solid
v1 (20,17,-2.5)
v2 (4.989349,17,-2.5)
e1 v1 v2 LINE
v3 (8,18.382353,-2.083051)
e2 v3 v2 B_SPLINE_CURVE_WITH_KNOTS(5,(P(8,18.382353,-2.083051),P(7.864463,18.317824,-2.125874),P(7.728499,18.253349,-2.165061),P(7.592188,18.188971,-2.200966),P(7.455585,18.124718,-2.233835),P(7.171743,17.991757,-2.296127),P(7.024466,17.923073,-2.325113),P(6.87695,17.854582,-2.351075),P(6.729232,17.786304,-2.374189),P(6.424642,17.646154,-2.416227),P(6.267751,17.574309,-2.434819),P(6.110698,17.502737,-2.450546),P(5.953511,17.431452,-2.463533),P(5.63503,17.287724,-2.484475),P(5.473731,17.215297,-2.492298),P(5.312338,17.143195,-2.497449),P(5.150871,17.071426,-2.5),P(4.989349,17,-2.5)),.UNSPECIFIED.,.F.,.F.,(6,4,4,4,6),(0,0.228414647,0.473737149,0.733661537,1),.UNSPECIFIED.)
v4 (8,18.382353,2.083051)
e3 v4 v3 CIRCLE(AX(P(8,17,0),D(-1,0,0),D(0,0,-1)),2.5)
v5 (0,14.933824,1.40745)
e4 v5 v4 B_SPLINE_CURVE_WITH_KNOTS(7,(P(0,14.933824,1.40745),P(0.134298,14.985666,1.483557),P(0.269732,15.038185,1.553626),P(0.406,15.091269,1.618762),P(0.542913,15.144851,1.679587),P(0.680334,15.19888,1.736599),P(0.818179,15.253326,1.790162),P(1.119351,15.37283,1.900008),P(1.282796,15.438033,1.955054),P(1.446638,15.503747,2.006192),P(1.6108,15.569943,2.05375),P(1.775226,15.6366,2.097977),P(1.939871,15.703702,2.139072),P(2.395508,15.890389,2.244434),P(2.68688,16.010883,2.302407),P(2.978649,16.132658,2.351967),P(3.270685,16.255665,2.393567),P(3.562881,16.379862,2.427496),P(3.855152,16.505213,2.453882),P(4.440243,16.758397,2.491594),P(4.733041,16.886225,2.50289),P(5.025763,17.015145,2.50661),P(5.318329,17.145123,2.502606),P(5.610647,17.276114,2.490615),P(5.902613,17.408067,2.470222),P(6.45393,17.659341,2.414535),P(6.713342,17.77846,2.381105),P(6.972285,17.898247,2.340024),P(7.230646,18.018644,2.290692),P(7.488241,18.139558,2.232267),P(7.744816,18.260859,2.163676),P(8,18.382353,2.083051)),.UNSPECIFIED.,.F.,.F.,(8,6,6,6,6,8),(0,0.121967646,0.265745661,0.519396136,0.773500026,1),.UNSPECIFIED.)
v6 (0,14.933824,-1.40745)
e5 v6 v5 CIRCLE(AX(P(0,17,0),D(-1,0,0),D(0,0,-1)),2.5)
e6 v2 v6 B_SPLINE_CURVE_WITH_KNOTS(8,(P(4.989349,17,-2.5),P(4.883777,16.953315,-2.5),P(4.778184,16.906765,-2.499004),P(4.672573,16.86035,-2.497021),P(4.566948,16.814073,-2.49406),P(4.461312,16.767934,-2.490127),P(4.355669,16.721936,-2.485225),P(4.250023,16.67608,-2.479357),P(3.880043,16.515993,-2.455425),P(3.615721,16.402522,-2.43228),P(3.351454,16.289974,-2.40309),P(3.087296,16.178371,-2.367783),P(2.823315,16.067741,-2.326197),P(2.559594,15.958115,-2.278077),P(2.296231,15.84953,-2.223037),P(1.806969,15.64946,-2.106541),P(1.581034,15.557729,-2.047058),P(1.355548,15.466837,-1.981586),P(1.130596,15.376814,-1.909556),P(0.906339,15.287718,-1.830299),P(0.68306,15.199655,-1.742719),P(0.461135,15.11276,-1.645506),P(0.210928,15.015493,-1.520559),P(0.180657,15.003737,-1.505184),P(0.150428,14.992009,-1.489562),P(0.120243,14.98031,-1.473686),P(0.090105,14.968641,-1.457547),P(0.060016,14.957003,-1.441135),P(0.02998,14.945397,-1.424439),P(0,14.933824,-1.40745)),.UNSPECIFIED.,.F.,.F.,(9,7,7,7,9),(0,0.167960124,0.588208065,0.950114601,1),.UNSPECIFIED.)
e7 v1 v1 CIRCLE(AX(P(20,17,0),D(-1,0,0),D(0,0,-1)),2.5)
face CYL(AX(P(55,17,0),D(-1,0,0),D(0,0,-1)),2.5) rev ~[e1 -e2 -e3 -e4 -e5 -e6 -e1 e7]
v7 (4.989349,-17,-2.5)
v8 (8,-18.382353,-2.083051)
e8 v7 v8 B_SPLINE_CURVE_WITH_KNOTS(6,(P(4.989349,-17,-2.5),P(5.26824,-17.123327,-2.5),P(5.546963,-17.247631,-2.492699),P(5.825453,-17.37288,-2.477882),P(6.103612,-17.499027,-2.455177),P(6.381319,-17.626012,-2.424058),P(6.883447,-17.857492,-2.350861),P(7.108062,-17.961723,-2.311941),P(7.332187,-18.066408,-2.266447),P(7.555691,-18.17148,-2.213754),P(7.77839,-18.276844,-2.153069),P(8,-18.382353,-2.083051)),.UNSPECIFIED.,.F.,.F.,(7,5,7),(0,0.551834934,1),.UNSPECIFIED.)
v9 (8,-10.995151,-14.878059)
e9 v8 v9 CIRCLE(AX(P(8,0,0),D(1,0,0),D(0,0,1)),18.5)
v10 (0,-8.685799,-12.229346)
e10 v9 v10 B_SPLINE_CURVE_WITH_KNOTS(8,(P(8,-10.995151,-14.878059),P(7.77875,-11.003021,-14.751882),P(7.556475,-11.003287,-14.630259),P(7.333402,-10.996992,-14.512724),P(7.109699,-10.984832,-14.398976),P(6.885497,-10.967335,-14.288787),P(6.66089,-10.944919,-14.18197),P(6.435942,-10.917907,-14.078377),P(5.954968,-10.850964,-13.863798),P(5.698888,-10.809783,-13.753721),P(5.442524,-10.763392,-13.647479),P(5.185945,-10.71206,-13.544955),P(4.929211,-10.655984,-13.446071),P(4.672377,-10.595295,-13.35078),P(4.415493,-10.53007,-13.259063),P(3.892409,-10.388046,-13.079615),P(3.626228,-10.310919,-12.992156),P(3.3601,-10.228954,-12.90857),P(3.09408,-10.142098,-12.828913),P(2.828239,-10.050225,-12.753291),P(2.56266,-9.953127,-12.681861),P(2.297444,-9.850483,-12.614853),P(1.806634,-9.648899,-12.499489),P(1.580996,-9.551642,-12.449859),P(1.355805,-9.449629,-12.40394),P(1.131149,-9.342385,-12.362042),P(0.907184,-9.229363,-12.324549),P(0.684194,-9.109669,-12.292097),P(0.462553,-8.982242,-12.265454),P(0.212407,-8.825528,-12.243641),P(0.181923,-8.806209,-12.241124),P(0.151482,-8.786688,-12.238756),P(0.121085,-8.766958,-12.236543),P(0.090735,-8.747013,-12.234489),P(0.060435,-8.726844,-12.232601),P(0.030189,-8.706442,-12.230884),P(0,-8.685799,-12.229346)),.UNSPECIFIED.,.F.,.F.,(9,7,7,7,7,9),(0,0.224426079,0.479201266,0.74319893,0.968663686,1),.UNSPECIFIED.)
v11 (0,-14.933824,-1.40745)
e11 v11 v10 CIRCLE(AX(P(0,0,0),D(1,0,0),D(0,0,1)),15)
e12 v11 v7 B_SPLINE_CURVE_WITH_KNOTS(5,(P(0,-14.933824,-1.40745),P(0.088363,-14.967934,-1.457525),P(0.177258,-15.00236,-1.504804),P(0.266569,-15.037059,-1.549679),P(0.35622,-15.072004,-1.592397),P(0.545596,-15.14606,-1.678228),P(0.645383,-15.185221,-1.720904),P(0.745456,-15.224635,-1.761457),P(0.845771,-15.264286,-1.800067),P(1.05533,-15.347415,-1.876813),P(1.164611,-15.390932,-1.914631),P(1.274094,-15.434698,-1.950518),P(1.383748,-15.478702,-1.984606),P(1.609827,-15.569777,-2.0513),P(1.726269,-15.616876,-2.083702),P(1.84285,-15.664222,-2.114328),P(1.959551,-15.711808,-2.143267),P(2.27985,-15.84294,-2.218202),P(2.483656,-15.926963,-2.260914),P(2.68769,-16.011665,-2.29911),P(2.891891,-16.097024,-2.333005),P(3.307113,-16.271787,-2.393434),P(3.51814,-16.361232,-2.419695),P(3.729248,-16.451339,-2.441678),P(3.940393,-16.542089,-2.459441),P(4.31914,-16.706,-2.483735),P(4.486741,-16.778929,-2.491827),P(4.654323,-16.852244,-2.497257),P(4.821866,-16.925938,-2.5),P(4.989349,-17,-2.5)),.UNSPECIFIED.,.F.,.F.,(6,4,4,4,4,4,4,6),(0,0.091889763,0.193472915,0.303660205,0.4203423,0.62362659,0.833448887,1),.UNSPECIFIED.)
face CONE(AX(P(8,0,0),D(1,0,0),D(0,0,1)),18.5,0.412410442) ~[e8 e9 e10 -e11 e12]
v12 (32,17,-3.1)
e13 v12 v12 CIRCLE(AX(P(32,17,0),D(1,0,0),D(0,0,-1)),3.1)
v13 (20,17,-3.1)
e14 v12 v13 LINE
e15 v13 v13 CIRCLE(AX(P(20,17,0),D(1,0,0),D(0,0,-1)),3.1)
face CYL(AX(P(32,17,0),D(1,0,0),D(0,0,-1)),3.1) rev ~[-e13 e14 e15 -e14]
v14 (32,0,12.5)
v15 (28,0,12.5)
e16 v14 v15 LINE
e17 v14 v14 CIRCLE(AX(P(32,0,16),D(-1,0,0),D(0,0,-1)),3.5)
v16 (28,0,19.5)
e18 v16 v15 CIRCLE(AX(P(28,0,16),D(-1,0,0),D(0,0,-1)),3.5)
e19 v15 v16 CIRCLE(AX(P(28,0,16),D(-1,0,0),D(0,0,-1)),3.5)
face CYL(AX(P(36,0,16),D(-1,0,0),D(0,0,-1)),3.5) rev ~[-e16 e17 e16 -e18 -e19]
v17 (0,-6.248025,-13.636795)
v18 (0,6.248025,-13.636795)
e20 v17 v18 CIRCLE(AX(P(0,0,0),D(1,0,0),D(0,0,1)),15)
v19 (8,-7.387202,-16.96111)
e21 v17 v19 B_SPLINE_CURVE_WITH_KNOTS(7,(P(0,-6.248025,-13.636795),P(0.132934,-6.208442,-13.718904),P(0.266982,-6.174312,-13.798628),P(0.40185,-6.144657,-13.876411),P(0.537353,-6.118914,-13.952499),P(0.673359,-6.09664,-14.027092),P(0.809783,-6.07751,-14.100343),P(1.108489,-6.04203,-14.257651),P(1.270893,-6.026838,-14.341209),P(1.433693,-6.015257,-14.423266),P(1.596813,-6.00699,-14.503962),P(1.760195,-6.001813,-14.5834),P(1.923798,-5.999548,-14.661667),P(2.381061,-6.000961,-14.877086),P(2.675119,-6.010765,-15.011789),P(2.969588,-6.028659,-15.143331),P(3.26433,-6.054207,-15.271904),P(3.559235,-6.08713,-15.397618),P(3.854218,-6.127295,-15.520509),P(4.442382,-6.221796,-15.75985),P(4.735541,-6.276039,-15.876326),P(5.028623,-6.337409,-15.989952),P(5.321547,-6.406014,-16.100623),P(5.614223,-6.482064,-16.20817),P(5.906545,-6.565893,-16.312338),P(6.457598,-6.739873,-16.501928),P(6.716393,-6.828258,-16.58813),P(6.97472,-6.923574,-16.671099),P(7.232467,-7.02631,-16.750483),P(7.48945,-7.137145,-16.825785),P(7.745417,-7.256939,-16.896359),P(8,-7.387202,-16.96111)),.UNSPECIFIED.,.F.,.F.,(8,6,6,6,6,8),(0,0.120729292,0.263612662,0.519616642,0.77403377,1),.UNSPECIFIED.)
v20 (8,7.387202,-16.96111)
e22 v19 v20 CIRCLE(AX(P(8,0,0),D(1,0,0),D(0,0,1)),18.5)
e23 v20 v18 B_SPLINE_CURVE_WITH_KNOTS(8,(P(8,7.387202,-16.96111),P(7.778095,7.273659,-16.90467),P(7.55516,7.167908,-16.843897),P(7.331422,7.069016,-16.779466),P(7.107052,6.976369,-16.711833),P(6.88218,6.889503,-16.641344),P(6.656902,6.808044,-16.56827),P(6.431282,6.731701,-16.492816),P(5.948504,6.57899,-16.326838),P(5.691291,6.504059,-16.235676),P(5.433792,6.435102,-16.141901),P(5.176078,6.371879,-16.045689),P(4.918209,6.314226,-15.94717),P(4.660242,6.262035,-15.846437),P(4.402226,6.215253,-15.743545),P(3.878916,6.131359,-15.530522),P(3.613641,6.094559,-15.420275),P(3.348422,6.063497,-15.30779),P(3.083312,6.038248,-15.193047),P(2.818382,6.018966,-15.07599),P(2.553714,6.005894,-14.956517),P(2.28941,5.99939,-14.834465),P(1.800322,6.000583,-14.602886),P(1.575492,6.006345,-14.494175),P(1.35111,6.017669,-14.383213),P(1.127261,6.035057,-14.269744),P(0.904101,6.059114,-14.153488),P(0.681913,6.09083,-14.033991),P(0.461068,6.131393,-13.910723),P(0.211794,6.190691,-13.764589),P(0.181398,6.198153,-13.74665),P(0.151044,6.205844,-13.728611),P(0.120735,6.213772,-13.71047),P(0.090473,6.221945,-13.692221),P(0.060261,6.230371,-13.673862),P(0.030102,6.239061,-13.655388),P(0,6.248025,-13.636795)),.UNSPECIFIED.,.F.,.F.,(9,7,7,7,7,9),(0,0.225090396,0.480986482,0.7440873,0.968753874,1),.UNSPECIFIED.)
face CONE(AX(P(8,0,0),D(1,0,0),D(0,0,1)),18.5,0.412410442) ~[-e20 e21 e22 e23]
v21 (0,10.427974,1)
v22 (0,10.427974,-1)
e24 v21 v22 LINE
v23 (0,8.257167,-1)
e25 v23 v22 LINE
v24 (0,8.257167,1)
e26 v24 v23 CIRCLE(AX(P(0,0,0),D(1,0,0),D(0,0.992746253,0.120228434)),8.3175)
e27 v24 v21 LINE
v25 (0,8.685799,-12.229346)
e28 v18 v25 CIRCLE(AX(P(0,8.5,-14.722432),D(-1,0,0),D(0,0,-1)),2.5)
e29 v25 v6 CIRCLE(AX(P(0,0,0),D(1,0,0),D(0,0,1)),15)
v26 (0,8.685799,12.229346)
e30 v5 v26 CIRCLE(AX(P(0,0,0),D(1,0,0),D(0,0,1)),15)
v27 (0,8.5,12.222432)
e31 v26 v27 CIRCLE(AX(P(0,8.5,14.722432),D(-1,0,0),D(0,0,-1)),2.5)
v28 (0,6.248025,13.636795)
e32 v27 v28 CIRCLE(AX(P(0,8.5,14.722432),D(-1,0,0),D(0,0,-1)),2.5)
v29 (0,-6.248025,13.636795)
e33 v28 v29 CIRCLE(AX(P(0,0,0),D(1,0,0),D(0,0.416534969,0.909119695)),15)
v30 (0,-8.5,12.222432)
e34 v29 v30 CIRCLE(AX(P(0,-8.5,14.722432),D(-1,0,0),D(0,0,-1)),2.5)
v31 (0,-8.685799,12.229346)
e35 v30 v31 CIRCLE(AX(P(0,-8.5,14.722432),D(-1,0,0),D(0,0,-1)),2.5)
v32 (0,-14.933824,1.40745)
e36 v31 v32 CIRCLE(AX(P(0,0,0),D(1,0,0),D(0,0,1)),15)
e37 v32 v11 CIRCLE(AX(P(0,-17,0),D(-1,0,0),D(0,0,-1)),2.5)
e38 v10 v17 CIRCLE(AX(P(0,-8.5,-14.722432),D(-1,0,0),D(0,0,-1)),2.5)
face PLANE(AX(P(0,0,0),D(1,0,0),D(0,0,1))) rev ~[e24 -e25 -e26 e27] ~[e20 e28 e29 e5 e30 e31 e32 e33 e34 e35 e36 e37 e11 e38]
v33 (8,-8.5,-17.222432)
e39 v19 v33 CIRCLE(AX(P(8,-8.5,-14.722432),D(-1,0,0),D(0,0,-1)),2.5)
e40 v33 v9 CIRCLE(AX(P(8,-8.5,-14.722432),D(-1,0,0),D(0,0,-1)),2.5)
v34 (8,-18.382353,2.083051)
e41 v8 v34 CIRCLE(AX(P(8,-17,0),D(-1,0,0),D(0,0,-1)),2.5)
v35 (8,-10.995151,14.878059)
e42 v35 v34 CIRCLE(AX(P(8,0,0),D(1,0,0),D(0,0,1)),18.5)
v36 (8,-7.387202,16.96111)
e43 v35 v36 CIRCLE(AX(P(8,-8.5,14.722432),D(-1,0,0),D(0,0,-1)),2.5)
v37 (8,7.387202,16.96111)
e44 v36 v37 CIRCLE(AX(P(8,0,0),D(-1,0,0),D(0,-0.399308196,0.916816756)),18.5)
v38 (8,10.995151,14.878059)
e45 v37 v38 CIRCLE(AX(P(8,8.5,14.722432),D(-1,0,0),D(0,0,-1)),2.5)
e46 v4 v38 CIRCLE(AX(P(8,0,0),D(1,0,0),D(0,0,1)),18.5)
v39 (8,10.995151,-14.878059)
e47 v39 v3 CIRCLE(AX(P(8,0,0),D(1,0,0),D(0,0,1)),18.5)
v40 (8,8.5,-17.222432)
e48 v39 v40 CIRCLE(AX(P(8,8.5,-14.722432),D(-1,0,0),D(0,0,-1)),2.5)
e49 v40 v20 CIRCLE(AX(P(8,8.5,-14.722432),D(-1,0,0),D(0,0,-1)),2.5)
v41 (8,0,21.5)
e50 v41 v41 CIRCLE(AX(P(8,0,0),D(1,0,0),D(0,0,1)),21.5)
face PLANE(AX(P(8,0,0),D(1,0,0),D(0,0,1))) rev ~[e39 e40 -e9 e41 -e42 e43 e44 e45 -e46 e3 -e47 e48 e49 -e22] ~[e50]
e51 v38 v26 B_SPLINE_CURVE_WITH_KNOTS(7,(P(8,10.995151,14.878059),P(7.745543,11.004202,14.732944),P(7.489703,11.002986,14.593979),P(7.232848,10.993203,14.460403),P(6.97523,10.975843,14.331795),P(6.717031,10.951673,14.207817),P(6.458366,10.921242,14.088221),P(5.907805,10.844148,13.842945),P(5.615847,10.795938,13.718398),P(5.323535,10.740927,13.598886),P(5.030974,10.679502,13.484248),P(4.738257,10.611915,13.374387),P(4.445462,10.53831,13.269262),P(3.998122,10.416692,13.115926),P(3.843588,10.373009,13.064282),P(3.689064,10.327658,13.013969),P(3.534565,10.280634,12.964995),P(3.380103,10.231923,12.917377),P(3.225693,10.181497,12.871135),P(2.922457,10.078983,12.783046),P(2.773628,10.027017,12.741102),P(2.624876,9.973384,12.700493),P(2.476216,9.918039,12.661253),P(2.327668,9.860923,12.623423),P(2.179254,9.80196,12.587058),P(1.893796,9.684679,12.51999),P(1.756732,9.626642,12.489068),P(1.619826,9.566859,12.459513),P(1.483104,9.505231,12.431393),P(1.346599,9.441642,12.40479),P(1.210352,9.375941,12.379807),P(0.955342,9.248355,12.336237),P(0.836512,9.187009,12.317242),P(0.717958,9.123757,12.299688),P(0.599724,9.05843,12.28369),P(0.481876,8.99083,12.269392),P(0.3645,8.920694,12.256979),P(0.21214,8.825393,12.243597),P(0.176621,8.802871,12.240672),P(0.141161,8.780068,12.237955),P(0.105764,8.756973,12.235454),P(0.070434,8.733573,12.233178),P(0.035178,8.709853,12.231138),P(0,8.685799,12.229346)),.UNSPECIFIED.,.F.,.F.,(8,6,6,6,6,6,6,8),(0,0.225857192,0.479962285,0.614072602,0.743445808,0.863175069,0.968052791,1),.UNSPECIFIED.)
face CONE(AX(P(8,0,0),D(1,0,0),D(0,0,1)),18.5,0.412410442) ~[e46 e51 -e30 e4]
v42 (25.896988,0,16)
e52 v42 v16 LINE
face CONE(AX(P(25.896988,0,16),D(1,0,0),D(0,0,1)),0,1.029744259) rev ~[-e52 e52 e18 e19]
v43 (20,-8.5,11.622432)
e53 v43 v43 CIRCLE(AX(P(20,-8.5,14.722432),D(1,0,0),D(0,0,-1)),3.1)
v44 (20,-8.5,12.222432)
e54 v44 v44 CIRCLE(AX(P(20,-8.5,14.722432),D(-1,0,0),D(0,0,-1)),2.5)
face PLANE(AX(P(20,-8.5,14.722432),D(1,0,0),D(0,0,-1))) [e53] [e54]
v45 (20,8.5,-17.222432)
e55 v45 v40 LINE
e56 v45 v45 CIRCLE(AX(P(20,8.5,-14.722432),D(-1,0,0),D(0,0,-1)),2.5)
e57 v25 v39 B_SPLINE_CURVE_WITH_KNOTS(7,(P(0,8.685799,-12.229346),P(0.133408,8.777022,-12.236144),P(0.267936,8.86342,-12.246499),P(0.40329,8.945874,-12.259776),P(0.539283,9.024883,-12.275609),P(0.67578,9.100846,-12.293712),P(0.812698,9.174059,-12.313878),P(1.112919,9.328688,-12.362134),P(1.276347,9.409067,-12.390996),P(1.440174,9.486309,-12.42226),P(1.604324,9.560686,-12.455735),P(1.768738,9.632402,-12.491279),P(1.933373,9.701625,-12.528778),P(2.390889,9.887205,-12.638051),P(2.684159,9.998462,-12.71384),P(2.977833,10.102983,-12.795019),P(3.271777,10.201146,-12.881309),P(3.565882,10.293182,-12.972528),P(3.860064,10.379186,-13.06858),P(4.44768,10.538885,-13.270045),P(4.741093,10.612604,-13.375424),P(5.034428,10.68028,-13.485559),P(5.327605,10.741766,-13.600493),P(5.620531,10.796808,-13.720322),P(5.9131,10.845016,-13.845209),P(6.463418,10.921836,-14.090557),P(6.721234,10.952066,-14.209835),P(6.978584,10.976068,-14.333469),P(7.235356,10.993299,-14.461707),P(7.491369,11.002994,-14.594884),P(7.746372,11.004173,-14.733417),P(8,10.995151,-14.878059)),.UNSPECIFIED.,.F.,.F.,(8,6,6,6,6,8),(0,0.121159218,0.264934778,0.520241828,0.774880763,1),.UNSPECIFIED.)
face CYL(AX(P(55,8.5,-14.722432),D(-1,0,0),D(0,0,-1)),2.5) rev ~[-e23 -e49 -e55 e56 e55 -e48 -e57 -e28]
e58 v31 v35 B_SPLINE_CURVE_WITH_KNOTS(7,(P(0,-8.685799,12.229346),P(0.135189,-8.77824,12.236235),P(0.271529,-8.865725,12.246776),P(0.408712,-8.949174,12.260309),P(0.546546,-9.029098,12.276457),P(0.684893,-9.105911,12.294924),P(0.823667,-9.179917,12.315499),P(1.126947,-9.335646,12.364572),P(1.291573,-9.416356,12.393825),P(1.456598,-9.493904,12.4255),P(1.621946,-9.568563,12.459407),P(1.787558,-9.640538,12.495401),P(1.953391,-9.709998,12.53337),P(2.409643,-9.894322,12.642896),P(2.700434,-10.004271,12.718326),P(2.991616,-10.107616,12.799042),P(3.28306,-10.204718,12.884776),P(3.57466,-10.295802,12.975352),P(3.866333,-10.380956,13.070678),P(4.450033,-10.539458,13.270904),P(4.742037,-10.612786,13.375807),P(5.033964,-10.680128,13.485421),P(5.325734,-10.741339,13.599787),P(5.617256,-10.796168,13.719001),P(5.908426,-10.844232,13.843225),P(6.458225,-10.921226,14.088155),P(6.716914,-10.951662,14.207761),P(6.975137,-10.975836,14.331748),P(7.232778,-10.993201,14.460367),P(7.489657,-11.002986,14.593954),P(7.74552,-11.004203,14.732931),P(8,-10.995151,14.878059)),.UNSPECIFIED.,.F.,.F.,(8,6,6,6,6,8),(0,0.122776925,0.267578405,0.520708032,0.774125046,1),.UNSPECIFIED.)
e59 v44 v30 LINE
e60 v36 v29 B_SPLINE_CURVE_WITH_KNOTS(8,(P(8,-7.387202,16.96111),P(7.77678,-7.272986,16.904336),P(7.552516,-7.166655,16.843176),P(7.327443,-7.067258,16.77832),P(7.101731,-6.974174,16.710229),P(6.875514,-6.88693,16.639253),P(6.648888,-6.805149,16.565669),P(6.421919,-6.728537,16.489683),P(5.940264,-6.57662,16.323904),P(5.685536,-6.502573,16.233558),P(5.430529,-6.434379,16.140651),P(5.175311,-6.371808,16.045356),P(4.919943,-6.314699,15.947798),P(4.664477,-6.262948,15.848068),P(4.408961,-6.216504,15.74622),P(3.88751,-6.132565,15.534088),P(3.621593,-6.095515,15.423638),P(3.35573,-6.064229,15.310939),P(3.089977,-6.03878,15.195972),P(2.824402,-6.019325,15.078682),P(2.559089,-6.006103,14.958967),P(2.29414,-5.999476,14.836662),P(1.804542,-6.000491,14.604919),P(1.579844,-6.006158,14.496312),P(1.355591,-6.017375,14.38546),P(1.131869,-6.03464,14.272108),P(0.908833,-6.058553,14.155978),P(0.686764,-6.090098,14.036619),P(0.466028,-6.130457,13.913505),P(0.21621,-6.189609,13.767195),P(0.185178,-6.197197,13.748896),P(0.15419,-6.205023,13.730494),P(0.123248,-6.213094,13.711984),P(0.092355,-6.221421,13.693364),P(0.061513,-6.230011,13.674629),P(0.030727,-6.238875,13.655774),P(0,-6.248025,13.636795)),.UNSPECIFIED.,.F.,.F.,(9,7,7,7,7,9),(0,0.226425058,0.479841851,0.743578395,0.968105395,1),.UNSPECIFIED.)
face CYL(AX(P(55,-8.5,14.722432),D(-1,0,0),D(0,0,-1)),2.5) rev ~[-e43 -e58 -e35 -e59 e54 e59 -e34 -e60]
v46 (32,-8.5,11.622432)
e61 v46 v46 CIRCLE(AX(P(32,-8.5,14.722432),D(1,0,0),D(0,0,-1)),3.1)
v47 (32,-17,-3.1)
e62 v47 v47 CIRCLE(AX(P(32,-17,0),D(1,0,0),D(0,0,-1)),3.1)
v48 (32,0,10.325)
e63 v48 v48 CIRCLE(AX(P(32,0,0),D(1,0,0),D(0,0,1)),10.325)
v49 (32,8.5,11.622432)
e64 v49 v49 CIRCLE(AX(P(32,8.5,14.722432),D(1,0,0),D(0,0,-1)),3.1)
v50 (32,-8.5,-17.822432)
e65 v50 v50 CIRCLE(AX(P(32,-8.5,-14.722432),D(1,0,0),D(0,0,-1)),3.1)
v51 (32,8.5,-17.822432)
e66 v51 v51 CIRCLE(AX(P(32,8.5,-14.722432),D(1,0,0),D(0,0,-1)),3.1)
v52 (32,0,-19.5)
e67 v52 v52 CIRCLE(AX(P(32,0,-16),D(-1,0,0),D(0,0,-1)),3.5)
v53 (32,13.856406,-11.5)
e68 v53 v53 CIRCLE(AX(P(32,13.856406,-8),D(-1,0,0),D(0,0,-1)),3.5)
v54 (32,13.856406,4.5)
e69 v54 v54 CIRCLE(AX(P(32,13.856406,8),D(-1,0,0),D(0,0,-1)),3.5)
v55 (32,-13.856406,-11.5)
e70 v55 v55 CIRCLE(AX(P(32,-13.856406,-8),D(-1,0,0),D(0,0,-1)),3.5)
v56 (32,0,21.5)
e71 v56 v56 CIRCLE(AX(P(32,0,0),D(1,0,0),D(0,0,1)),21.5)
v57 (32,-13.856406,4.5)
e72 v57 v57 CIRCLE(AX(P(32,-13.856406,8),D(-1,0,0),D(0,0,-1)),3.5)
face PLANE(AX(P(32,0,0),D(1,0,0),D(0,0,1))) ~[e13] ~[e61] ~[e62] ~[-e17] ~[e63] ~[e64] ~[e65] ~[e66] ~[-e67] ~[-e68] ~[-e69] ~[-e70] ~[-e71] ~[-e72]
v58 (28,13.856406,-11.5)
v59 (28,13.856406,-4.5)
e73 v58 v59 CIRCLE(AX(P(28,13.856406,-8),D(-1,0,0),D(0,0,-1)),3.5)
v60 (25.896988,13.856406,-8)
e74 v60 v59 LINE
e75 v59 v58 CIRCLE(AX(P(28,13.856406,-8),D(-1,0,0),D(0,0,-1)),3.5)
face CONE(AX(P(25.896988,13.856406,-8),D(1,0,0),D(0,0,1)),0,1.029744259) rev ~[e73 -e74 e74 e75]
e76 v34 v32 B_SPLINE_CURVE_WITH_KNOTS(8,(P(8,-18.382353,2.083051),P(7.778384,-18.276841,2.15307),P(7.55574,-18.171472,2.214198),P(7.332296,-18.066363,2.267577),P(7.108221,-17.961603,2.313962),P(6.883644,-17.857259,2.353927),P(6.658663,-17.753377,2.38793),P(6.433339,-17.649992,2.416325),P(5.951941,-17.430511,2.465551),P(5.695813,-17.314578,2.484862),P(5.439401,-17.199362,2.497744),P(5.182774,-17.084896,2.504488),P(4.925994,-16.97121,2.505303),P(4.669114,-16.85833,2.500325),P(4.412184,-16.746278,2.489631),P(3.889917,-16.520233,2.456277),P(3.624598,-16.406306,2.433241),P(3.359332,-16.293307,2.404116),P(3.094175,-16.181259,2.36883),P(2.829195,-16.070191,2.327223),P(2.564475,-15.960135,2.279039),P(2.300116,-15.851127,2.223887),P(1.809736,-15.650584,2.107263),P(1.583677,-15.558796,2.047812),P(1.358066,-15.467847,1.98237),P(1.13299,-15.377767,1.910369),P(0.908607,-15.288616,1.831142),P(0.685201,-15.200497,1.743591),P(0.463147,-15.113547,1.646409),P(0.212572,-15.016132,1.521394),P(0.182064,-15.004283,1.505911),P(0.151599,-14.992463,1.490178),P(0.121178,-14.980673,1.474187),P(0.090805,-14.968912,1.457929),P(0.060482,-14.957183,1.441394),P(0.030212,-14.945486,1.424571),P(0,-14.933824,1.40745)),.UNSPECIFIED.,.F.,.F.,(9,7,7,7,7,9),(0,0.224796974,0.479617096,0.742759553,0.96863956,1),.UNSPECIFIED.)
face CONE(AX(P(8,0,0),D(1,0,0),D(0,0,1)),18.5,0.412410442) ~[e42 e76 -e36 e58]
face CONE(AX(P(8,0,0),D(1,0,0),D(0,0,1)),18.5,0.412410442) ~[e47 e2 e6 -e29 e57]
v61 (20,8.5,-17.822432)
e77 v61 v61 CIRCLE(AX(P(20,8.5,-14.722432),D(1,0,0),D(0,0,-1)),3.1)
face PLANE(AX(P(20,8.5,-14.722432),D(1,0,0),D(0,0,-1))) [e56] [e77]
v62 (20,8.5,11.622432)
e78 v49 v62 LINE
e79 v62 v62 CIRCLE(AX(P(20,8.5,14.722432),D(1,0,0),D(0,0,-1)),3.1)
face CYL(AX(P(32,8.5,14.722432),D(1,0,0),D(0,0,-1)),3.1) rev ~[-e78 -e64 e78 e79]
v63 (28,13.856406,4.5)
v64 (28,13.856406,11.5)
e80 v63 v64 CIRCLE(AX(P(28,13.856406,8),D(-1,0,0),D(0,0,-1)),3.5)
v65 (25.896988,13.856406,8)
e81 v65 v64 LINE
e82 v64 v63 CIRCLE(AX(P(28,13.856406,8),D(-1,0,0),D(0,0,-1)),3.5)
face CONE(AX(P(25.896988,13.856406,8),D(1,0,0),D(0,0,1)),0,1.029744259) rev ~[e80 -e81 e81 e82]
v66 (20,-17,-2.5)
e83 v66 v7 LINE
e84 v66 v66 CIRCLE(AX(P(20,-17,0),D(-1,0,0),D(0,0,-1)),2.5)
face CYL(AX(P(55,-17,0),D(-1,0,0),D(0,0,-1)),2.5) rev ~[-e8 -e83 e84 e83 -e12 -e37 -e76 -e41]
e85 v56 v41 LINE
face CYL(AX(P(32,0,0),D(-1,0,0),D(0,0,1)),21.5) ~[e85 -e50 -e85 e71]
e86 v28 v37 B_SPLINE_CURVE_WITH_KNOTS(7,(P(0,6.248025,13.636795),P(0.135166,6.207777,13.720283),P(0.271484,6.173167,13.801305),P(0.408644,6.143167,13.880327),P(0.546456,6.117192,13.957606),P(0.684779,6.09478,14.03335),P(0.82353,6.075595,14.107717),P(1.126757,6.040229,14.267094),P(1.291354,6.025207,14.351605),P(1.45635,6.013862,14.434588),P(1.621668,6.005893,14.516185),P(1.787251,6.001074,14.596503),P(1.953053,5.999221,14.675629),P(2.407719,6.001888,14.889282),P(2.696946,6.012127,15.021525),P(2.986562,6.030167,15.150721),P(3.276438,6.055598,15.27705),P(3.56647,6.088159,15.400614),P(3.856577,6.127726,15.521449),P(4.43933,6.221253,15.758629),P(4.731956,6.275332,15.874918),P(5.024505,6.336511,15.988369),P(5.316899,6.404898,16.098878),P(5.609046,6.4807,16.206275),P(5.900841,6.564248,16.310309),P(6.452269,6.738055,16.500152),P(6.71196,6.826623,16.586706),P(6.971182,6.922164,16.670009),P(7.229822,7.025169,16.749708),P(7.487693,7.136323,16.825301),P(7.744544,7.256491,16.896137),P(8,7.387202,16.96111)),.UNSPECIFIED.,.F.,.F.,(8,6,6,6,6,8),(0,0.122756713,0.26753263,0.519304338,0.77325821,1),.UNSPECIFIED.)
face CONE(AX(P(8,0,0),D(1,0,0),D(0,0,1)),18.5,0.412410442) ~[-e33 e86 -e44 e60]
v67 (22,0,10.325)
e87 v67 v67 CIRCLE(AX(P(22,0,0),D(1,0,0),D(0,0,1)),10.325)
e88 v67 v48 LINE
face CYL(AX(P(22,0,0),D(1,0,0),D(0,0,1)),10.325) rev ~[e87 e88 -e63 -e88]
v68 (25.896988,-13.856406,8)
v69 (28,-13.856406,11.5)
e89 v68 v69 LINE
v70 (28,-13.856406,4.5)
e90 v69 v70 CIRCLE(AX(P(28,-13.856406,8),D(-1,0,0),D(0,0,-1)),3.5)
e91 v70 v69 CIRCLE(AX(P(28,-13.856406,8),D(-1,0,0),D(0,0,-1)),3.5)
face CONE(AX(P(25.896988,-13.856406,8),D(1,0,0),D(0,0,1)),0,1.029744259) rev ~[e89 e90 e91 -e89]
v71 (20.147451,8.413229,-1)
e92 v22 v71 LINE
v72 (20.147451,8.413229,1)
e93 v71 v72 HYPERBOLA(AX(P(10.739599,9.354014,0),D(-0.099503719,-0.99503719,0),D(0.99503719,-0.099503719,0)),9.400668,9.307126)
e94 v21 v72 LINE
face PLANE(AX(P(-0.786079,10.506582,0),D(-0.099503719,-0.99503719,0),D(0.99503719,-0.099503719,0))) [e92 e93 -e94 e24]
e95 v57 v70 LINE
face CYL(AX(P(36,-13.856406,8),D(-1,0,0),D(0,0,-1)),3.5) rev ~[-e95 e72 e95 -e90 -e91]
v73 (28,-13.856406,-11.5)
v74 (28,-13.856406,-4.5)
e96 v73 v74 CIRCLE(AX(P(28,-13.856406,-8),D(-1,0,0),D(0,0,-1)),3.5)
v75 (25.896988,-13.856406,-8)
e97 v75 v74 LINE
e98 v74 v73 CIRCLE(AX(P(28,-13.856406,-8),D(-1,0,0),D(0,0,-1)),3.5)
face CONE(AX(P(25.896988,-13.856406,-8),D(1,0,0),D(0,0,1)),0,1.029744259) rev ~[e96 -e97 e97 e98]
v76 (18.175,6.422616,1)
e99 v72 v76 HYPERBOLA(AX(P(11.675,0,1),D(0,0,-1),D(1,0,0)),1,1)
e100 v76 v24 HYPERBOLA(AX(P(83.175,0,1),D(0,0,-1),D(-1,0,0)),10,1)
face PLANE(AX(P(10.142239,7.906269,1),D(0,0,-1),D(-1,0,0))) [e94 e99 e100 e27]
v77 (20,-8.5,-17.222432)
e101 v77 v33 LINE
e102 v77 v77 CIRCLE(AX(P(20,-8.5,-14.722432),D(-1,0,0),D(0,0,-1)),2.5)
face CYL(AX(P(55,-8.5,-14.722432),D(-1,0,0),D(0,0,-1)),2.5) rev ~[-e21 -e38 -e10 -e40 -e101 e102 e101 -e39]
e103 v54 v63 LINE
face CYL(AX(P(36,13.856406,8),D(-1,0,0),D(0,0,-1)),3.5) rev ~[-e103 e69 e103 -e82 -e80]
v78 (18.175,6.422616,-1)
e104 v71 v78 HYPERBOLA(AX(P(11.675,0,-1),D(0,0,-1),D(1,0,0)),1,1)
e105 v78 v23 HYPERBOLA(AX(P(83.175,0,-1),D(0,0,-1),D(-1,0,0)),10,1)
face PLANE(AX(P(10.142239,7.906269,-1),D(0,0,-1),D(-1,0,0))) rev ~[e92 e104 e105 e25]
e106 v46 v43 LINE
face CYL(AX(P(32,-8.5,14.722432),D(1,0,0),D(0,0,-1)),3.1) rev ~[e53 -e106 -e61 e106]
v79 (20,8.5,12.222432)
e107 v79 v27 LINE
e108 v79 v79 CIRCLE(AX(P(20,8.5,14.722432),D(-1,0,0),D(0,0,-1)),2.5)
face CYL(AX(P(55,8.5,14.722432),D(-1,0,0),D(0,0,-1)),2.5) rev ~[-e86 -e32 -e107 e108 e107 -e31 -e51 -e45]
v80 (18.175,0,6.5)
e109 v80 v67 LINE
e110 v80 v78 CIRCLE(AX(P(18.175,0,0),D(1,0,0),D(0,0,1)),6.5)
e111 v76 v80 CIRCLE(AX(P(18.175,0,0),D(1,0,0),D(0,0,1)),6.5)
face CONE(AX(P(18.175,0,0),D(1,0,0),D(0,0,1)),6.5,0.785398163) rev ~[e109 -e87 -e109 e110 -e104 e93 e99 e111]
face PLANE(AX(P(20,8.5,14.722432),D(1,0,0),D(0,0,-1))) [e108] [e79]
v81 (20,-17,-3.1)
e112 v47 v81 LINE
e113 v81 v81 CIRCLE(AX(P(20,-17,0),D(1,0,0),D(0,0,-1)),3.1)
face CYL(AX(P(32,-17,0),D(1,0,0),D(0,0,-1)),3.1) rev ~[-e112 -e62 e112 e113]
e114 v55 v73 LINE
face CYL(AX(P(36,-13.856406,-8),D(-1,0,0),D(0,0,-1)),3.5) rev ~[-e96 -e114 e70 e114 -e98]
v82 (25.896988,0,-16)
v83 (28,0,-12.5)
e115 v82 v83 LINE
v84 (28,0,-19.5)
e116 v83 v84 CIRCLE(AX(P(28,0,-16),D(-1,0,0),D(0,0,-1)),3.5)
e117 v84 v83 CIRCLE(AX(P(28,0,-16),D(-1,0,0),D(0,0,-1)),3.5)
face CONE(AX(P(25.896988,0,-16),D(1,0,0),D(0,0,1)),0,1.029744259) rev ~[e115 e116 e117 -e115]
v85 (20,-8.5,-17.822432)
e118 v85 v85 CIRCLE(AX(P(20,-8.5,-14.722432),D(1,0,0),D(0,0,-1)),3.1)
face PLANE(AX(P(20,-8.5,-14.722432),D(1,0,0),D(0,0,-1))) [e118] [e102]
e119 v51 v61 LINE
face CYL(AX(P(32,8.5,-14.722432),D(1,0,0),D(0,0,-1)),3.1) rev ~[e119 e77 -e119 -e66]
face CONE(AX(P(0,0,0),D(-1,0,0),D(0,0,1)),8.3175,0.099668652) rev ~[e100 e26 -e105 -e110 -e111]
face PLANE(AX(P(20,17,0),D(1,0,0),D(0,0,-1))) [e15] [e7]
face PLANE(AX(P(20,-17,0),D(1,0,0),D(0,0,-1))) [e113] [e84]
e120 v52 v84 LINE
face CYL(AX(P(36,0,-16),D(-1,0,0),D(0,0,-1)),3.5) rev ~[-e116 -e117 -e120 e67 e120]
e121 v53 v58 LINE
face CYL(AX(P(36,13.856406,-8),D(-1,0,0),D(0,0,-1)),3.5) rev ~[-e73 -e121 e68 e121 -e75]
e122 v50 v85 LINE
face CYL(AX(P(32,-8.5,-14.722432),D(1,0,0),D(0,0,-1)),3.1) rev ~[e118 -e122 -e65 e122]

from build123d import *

# Parameters (mm, degrees)
SKETCH11_R                   = 3.1
EXTRUDE1_DEPTH               = 12
M6_TAPPED_HOLE1_D            = 5
M6_TAPPED_HOLE1_DEPTH        = 35
M6_TAPPED_HOLE1_TIP          = 1.502151548
F_7_0_7_DIAMETER_HOLE1_D     = 7
F_7_0_7_DIAMETER_HOLE1_DEPTH = 4
F_7_0_7_DIAMETER_HOLE1_TIP   = 2.103012167
EXTRUDE3_DEPTH               = 1


with BuildPart() as part:
    # Sketch1 → Revolve1 (revolve)
    with BuildSketch(Plane.XY, mode=Mode.PRIVATE) as revolve1_sk:
        Polygon((8, 18.5), (0, 15), (0, 8.3175), (18.175, 6.5), (22, 10.325), (32, 10.325), (32, 21.5), (8, 21.5), align=None)
    revolve(revolve1_sk.sketch.rotate(Axis((0, 0, 0), (1, 0, 0)), 90), axis=Axis((0, 0, 0), (1, 0, 0)))

    # Sketch11 → Extrude1 (cut)
    with BuildSketch(Plane(origin=(32, 0, 0), x_dir=(0, 0, -1), z_dir=(1, 0, 0))):
        with Locations((0, -17)):
            Circle(SKETCH11_R)
        with Locations((-14.722431864, -8.5)):
            Circle(SKETCH11_R)
        with Locations((-14.722431864, 8.5)):
            Circle(SKETCH11_R)
        with Locations((0, 17)):
            Circle(SKETCH11_R)
        with Locations((14.722431864, 8.5)):
            Circle(SKETCH11_R)
        with Locations((14.722431864, -8.5)):
            Circle(SKETCH11_R)
    extrude(amount=-EXTRUDE1_DEPTH, mode=Mode.SUBTRACT)

    # M6 Tapped Hole1
    with Locations(Plane(origin=(20, -17, 0), x_dir=(0, 0, 1), z_dir=(1, 0, 0))):
        with Locations((0, 0), (14.722431864, -8.5), (14.722431864, -25.5), (0, -34), (-14.722431864, -25.5), (-14.722431864, -8.5)):
            Hole(M6_TAPPED_HOLE1_D / 2, depth=M6_TAPPED_HOLE1_DEPTH)
            with Locations((0, 0, -(M6_TAPPED_HOLE1_DEPTH + M6_TAPPED_HOLE1_TIP / 2))):  # 118° drill point
                Cone(0, M6_TAPPED_HOLE1_D / 2, M6_TAPPED_HOLE1_TIP, mode=Mode.SUBTRACT)

    # Ø7.0 (7) Diameter Hole1
    with Locations(Plane(origin=(32, -13.856406461, -8), x_dir=(0, 0, 1), z_dir=(1, 0, 0))):
        with Locations((0, 0), (16, 0), (24, -13.856406461), (16, -27.712812922), (0, -27.712812922), (-8, -13.856406461)):
            Hole(F_7_0_7_DIAMETER_HOLE1_D / 2, depth=F_7_0_7_DIAMETER_HOLE1_DEPTH)
            with Locations((0, 0, -(F_7_0_7_DIAMETER_HOLE1_DEPTH + F_7_0_7_DIAMETER_HOLE1_TIP / 2))):  # 118° drill point
                Cone(0, F_7_0_7_DIAMETER_HOLE1_D / 2, F_7_0_7_DIAMETER_HOLE1_TIP, mode=Mode.SUBTRACT)

    # Sketch18 → Extrude3 (cut, symmetric)
    with BuildSketch(Plane.XY):
        Polygon((21.070558224, 5.305955372), (-1.084590537, 7.521470248), (-0.78607938, 10.506581818), (21.369069381, 8.291066942), align=None)
    extrude(amount=EXTRUDE3_DEPTH, both=True, mode=Mode.SUBTRACT)


solid = part.part
